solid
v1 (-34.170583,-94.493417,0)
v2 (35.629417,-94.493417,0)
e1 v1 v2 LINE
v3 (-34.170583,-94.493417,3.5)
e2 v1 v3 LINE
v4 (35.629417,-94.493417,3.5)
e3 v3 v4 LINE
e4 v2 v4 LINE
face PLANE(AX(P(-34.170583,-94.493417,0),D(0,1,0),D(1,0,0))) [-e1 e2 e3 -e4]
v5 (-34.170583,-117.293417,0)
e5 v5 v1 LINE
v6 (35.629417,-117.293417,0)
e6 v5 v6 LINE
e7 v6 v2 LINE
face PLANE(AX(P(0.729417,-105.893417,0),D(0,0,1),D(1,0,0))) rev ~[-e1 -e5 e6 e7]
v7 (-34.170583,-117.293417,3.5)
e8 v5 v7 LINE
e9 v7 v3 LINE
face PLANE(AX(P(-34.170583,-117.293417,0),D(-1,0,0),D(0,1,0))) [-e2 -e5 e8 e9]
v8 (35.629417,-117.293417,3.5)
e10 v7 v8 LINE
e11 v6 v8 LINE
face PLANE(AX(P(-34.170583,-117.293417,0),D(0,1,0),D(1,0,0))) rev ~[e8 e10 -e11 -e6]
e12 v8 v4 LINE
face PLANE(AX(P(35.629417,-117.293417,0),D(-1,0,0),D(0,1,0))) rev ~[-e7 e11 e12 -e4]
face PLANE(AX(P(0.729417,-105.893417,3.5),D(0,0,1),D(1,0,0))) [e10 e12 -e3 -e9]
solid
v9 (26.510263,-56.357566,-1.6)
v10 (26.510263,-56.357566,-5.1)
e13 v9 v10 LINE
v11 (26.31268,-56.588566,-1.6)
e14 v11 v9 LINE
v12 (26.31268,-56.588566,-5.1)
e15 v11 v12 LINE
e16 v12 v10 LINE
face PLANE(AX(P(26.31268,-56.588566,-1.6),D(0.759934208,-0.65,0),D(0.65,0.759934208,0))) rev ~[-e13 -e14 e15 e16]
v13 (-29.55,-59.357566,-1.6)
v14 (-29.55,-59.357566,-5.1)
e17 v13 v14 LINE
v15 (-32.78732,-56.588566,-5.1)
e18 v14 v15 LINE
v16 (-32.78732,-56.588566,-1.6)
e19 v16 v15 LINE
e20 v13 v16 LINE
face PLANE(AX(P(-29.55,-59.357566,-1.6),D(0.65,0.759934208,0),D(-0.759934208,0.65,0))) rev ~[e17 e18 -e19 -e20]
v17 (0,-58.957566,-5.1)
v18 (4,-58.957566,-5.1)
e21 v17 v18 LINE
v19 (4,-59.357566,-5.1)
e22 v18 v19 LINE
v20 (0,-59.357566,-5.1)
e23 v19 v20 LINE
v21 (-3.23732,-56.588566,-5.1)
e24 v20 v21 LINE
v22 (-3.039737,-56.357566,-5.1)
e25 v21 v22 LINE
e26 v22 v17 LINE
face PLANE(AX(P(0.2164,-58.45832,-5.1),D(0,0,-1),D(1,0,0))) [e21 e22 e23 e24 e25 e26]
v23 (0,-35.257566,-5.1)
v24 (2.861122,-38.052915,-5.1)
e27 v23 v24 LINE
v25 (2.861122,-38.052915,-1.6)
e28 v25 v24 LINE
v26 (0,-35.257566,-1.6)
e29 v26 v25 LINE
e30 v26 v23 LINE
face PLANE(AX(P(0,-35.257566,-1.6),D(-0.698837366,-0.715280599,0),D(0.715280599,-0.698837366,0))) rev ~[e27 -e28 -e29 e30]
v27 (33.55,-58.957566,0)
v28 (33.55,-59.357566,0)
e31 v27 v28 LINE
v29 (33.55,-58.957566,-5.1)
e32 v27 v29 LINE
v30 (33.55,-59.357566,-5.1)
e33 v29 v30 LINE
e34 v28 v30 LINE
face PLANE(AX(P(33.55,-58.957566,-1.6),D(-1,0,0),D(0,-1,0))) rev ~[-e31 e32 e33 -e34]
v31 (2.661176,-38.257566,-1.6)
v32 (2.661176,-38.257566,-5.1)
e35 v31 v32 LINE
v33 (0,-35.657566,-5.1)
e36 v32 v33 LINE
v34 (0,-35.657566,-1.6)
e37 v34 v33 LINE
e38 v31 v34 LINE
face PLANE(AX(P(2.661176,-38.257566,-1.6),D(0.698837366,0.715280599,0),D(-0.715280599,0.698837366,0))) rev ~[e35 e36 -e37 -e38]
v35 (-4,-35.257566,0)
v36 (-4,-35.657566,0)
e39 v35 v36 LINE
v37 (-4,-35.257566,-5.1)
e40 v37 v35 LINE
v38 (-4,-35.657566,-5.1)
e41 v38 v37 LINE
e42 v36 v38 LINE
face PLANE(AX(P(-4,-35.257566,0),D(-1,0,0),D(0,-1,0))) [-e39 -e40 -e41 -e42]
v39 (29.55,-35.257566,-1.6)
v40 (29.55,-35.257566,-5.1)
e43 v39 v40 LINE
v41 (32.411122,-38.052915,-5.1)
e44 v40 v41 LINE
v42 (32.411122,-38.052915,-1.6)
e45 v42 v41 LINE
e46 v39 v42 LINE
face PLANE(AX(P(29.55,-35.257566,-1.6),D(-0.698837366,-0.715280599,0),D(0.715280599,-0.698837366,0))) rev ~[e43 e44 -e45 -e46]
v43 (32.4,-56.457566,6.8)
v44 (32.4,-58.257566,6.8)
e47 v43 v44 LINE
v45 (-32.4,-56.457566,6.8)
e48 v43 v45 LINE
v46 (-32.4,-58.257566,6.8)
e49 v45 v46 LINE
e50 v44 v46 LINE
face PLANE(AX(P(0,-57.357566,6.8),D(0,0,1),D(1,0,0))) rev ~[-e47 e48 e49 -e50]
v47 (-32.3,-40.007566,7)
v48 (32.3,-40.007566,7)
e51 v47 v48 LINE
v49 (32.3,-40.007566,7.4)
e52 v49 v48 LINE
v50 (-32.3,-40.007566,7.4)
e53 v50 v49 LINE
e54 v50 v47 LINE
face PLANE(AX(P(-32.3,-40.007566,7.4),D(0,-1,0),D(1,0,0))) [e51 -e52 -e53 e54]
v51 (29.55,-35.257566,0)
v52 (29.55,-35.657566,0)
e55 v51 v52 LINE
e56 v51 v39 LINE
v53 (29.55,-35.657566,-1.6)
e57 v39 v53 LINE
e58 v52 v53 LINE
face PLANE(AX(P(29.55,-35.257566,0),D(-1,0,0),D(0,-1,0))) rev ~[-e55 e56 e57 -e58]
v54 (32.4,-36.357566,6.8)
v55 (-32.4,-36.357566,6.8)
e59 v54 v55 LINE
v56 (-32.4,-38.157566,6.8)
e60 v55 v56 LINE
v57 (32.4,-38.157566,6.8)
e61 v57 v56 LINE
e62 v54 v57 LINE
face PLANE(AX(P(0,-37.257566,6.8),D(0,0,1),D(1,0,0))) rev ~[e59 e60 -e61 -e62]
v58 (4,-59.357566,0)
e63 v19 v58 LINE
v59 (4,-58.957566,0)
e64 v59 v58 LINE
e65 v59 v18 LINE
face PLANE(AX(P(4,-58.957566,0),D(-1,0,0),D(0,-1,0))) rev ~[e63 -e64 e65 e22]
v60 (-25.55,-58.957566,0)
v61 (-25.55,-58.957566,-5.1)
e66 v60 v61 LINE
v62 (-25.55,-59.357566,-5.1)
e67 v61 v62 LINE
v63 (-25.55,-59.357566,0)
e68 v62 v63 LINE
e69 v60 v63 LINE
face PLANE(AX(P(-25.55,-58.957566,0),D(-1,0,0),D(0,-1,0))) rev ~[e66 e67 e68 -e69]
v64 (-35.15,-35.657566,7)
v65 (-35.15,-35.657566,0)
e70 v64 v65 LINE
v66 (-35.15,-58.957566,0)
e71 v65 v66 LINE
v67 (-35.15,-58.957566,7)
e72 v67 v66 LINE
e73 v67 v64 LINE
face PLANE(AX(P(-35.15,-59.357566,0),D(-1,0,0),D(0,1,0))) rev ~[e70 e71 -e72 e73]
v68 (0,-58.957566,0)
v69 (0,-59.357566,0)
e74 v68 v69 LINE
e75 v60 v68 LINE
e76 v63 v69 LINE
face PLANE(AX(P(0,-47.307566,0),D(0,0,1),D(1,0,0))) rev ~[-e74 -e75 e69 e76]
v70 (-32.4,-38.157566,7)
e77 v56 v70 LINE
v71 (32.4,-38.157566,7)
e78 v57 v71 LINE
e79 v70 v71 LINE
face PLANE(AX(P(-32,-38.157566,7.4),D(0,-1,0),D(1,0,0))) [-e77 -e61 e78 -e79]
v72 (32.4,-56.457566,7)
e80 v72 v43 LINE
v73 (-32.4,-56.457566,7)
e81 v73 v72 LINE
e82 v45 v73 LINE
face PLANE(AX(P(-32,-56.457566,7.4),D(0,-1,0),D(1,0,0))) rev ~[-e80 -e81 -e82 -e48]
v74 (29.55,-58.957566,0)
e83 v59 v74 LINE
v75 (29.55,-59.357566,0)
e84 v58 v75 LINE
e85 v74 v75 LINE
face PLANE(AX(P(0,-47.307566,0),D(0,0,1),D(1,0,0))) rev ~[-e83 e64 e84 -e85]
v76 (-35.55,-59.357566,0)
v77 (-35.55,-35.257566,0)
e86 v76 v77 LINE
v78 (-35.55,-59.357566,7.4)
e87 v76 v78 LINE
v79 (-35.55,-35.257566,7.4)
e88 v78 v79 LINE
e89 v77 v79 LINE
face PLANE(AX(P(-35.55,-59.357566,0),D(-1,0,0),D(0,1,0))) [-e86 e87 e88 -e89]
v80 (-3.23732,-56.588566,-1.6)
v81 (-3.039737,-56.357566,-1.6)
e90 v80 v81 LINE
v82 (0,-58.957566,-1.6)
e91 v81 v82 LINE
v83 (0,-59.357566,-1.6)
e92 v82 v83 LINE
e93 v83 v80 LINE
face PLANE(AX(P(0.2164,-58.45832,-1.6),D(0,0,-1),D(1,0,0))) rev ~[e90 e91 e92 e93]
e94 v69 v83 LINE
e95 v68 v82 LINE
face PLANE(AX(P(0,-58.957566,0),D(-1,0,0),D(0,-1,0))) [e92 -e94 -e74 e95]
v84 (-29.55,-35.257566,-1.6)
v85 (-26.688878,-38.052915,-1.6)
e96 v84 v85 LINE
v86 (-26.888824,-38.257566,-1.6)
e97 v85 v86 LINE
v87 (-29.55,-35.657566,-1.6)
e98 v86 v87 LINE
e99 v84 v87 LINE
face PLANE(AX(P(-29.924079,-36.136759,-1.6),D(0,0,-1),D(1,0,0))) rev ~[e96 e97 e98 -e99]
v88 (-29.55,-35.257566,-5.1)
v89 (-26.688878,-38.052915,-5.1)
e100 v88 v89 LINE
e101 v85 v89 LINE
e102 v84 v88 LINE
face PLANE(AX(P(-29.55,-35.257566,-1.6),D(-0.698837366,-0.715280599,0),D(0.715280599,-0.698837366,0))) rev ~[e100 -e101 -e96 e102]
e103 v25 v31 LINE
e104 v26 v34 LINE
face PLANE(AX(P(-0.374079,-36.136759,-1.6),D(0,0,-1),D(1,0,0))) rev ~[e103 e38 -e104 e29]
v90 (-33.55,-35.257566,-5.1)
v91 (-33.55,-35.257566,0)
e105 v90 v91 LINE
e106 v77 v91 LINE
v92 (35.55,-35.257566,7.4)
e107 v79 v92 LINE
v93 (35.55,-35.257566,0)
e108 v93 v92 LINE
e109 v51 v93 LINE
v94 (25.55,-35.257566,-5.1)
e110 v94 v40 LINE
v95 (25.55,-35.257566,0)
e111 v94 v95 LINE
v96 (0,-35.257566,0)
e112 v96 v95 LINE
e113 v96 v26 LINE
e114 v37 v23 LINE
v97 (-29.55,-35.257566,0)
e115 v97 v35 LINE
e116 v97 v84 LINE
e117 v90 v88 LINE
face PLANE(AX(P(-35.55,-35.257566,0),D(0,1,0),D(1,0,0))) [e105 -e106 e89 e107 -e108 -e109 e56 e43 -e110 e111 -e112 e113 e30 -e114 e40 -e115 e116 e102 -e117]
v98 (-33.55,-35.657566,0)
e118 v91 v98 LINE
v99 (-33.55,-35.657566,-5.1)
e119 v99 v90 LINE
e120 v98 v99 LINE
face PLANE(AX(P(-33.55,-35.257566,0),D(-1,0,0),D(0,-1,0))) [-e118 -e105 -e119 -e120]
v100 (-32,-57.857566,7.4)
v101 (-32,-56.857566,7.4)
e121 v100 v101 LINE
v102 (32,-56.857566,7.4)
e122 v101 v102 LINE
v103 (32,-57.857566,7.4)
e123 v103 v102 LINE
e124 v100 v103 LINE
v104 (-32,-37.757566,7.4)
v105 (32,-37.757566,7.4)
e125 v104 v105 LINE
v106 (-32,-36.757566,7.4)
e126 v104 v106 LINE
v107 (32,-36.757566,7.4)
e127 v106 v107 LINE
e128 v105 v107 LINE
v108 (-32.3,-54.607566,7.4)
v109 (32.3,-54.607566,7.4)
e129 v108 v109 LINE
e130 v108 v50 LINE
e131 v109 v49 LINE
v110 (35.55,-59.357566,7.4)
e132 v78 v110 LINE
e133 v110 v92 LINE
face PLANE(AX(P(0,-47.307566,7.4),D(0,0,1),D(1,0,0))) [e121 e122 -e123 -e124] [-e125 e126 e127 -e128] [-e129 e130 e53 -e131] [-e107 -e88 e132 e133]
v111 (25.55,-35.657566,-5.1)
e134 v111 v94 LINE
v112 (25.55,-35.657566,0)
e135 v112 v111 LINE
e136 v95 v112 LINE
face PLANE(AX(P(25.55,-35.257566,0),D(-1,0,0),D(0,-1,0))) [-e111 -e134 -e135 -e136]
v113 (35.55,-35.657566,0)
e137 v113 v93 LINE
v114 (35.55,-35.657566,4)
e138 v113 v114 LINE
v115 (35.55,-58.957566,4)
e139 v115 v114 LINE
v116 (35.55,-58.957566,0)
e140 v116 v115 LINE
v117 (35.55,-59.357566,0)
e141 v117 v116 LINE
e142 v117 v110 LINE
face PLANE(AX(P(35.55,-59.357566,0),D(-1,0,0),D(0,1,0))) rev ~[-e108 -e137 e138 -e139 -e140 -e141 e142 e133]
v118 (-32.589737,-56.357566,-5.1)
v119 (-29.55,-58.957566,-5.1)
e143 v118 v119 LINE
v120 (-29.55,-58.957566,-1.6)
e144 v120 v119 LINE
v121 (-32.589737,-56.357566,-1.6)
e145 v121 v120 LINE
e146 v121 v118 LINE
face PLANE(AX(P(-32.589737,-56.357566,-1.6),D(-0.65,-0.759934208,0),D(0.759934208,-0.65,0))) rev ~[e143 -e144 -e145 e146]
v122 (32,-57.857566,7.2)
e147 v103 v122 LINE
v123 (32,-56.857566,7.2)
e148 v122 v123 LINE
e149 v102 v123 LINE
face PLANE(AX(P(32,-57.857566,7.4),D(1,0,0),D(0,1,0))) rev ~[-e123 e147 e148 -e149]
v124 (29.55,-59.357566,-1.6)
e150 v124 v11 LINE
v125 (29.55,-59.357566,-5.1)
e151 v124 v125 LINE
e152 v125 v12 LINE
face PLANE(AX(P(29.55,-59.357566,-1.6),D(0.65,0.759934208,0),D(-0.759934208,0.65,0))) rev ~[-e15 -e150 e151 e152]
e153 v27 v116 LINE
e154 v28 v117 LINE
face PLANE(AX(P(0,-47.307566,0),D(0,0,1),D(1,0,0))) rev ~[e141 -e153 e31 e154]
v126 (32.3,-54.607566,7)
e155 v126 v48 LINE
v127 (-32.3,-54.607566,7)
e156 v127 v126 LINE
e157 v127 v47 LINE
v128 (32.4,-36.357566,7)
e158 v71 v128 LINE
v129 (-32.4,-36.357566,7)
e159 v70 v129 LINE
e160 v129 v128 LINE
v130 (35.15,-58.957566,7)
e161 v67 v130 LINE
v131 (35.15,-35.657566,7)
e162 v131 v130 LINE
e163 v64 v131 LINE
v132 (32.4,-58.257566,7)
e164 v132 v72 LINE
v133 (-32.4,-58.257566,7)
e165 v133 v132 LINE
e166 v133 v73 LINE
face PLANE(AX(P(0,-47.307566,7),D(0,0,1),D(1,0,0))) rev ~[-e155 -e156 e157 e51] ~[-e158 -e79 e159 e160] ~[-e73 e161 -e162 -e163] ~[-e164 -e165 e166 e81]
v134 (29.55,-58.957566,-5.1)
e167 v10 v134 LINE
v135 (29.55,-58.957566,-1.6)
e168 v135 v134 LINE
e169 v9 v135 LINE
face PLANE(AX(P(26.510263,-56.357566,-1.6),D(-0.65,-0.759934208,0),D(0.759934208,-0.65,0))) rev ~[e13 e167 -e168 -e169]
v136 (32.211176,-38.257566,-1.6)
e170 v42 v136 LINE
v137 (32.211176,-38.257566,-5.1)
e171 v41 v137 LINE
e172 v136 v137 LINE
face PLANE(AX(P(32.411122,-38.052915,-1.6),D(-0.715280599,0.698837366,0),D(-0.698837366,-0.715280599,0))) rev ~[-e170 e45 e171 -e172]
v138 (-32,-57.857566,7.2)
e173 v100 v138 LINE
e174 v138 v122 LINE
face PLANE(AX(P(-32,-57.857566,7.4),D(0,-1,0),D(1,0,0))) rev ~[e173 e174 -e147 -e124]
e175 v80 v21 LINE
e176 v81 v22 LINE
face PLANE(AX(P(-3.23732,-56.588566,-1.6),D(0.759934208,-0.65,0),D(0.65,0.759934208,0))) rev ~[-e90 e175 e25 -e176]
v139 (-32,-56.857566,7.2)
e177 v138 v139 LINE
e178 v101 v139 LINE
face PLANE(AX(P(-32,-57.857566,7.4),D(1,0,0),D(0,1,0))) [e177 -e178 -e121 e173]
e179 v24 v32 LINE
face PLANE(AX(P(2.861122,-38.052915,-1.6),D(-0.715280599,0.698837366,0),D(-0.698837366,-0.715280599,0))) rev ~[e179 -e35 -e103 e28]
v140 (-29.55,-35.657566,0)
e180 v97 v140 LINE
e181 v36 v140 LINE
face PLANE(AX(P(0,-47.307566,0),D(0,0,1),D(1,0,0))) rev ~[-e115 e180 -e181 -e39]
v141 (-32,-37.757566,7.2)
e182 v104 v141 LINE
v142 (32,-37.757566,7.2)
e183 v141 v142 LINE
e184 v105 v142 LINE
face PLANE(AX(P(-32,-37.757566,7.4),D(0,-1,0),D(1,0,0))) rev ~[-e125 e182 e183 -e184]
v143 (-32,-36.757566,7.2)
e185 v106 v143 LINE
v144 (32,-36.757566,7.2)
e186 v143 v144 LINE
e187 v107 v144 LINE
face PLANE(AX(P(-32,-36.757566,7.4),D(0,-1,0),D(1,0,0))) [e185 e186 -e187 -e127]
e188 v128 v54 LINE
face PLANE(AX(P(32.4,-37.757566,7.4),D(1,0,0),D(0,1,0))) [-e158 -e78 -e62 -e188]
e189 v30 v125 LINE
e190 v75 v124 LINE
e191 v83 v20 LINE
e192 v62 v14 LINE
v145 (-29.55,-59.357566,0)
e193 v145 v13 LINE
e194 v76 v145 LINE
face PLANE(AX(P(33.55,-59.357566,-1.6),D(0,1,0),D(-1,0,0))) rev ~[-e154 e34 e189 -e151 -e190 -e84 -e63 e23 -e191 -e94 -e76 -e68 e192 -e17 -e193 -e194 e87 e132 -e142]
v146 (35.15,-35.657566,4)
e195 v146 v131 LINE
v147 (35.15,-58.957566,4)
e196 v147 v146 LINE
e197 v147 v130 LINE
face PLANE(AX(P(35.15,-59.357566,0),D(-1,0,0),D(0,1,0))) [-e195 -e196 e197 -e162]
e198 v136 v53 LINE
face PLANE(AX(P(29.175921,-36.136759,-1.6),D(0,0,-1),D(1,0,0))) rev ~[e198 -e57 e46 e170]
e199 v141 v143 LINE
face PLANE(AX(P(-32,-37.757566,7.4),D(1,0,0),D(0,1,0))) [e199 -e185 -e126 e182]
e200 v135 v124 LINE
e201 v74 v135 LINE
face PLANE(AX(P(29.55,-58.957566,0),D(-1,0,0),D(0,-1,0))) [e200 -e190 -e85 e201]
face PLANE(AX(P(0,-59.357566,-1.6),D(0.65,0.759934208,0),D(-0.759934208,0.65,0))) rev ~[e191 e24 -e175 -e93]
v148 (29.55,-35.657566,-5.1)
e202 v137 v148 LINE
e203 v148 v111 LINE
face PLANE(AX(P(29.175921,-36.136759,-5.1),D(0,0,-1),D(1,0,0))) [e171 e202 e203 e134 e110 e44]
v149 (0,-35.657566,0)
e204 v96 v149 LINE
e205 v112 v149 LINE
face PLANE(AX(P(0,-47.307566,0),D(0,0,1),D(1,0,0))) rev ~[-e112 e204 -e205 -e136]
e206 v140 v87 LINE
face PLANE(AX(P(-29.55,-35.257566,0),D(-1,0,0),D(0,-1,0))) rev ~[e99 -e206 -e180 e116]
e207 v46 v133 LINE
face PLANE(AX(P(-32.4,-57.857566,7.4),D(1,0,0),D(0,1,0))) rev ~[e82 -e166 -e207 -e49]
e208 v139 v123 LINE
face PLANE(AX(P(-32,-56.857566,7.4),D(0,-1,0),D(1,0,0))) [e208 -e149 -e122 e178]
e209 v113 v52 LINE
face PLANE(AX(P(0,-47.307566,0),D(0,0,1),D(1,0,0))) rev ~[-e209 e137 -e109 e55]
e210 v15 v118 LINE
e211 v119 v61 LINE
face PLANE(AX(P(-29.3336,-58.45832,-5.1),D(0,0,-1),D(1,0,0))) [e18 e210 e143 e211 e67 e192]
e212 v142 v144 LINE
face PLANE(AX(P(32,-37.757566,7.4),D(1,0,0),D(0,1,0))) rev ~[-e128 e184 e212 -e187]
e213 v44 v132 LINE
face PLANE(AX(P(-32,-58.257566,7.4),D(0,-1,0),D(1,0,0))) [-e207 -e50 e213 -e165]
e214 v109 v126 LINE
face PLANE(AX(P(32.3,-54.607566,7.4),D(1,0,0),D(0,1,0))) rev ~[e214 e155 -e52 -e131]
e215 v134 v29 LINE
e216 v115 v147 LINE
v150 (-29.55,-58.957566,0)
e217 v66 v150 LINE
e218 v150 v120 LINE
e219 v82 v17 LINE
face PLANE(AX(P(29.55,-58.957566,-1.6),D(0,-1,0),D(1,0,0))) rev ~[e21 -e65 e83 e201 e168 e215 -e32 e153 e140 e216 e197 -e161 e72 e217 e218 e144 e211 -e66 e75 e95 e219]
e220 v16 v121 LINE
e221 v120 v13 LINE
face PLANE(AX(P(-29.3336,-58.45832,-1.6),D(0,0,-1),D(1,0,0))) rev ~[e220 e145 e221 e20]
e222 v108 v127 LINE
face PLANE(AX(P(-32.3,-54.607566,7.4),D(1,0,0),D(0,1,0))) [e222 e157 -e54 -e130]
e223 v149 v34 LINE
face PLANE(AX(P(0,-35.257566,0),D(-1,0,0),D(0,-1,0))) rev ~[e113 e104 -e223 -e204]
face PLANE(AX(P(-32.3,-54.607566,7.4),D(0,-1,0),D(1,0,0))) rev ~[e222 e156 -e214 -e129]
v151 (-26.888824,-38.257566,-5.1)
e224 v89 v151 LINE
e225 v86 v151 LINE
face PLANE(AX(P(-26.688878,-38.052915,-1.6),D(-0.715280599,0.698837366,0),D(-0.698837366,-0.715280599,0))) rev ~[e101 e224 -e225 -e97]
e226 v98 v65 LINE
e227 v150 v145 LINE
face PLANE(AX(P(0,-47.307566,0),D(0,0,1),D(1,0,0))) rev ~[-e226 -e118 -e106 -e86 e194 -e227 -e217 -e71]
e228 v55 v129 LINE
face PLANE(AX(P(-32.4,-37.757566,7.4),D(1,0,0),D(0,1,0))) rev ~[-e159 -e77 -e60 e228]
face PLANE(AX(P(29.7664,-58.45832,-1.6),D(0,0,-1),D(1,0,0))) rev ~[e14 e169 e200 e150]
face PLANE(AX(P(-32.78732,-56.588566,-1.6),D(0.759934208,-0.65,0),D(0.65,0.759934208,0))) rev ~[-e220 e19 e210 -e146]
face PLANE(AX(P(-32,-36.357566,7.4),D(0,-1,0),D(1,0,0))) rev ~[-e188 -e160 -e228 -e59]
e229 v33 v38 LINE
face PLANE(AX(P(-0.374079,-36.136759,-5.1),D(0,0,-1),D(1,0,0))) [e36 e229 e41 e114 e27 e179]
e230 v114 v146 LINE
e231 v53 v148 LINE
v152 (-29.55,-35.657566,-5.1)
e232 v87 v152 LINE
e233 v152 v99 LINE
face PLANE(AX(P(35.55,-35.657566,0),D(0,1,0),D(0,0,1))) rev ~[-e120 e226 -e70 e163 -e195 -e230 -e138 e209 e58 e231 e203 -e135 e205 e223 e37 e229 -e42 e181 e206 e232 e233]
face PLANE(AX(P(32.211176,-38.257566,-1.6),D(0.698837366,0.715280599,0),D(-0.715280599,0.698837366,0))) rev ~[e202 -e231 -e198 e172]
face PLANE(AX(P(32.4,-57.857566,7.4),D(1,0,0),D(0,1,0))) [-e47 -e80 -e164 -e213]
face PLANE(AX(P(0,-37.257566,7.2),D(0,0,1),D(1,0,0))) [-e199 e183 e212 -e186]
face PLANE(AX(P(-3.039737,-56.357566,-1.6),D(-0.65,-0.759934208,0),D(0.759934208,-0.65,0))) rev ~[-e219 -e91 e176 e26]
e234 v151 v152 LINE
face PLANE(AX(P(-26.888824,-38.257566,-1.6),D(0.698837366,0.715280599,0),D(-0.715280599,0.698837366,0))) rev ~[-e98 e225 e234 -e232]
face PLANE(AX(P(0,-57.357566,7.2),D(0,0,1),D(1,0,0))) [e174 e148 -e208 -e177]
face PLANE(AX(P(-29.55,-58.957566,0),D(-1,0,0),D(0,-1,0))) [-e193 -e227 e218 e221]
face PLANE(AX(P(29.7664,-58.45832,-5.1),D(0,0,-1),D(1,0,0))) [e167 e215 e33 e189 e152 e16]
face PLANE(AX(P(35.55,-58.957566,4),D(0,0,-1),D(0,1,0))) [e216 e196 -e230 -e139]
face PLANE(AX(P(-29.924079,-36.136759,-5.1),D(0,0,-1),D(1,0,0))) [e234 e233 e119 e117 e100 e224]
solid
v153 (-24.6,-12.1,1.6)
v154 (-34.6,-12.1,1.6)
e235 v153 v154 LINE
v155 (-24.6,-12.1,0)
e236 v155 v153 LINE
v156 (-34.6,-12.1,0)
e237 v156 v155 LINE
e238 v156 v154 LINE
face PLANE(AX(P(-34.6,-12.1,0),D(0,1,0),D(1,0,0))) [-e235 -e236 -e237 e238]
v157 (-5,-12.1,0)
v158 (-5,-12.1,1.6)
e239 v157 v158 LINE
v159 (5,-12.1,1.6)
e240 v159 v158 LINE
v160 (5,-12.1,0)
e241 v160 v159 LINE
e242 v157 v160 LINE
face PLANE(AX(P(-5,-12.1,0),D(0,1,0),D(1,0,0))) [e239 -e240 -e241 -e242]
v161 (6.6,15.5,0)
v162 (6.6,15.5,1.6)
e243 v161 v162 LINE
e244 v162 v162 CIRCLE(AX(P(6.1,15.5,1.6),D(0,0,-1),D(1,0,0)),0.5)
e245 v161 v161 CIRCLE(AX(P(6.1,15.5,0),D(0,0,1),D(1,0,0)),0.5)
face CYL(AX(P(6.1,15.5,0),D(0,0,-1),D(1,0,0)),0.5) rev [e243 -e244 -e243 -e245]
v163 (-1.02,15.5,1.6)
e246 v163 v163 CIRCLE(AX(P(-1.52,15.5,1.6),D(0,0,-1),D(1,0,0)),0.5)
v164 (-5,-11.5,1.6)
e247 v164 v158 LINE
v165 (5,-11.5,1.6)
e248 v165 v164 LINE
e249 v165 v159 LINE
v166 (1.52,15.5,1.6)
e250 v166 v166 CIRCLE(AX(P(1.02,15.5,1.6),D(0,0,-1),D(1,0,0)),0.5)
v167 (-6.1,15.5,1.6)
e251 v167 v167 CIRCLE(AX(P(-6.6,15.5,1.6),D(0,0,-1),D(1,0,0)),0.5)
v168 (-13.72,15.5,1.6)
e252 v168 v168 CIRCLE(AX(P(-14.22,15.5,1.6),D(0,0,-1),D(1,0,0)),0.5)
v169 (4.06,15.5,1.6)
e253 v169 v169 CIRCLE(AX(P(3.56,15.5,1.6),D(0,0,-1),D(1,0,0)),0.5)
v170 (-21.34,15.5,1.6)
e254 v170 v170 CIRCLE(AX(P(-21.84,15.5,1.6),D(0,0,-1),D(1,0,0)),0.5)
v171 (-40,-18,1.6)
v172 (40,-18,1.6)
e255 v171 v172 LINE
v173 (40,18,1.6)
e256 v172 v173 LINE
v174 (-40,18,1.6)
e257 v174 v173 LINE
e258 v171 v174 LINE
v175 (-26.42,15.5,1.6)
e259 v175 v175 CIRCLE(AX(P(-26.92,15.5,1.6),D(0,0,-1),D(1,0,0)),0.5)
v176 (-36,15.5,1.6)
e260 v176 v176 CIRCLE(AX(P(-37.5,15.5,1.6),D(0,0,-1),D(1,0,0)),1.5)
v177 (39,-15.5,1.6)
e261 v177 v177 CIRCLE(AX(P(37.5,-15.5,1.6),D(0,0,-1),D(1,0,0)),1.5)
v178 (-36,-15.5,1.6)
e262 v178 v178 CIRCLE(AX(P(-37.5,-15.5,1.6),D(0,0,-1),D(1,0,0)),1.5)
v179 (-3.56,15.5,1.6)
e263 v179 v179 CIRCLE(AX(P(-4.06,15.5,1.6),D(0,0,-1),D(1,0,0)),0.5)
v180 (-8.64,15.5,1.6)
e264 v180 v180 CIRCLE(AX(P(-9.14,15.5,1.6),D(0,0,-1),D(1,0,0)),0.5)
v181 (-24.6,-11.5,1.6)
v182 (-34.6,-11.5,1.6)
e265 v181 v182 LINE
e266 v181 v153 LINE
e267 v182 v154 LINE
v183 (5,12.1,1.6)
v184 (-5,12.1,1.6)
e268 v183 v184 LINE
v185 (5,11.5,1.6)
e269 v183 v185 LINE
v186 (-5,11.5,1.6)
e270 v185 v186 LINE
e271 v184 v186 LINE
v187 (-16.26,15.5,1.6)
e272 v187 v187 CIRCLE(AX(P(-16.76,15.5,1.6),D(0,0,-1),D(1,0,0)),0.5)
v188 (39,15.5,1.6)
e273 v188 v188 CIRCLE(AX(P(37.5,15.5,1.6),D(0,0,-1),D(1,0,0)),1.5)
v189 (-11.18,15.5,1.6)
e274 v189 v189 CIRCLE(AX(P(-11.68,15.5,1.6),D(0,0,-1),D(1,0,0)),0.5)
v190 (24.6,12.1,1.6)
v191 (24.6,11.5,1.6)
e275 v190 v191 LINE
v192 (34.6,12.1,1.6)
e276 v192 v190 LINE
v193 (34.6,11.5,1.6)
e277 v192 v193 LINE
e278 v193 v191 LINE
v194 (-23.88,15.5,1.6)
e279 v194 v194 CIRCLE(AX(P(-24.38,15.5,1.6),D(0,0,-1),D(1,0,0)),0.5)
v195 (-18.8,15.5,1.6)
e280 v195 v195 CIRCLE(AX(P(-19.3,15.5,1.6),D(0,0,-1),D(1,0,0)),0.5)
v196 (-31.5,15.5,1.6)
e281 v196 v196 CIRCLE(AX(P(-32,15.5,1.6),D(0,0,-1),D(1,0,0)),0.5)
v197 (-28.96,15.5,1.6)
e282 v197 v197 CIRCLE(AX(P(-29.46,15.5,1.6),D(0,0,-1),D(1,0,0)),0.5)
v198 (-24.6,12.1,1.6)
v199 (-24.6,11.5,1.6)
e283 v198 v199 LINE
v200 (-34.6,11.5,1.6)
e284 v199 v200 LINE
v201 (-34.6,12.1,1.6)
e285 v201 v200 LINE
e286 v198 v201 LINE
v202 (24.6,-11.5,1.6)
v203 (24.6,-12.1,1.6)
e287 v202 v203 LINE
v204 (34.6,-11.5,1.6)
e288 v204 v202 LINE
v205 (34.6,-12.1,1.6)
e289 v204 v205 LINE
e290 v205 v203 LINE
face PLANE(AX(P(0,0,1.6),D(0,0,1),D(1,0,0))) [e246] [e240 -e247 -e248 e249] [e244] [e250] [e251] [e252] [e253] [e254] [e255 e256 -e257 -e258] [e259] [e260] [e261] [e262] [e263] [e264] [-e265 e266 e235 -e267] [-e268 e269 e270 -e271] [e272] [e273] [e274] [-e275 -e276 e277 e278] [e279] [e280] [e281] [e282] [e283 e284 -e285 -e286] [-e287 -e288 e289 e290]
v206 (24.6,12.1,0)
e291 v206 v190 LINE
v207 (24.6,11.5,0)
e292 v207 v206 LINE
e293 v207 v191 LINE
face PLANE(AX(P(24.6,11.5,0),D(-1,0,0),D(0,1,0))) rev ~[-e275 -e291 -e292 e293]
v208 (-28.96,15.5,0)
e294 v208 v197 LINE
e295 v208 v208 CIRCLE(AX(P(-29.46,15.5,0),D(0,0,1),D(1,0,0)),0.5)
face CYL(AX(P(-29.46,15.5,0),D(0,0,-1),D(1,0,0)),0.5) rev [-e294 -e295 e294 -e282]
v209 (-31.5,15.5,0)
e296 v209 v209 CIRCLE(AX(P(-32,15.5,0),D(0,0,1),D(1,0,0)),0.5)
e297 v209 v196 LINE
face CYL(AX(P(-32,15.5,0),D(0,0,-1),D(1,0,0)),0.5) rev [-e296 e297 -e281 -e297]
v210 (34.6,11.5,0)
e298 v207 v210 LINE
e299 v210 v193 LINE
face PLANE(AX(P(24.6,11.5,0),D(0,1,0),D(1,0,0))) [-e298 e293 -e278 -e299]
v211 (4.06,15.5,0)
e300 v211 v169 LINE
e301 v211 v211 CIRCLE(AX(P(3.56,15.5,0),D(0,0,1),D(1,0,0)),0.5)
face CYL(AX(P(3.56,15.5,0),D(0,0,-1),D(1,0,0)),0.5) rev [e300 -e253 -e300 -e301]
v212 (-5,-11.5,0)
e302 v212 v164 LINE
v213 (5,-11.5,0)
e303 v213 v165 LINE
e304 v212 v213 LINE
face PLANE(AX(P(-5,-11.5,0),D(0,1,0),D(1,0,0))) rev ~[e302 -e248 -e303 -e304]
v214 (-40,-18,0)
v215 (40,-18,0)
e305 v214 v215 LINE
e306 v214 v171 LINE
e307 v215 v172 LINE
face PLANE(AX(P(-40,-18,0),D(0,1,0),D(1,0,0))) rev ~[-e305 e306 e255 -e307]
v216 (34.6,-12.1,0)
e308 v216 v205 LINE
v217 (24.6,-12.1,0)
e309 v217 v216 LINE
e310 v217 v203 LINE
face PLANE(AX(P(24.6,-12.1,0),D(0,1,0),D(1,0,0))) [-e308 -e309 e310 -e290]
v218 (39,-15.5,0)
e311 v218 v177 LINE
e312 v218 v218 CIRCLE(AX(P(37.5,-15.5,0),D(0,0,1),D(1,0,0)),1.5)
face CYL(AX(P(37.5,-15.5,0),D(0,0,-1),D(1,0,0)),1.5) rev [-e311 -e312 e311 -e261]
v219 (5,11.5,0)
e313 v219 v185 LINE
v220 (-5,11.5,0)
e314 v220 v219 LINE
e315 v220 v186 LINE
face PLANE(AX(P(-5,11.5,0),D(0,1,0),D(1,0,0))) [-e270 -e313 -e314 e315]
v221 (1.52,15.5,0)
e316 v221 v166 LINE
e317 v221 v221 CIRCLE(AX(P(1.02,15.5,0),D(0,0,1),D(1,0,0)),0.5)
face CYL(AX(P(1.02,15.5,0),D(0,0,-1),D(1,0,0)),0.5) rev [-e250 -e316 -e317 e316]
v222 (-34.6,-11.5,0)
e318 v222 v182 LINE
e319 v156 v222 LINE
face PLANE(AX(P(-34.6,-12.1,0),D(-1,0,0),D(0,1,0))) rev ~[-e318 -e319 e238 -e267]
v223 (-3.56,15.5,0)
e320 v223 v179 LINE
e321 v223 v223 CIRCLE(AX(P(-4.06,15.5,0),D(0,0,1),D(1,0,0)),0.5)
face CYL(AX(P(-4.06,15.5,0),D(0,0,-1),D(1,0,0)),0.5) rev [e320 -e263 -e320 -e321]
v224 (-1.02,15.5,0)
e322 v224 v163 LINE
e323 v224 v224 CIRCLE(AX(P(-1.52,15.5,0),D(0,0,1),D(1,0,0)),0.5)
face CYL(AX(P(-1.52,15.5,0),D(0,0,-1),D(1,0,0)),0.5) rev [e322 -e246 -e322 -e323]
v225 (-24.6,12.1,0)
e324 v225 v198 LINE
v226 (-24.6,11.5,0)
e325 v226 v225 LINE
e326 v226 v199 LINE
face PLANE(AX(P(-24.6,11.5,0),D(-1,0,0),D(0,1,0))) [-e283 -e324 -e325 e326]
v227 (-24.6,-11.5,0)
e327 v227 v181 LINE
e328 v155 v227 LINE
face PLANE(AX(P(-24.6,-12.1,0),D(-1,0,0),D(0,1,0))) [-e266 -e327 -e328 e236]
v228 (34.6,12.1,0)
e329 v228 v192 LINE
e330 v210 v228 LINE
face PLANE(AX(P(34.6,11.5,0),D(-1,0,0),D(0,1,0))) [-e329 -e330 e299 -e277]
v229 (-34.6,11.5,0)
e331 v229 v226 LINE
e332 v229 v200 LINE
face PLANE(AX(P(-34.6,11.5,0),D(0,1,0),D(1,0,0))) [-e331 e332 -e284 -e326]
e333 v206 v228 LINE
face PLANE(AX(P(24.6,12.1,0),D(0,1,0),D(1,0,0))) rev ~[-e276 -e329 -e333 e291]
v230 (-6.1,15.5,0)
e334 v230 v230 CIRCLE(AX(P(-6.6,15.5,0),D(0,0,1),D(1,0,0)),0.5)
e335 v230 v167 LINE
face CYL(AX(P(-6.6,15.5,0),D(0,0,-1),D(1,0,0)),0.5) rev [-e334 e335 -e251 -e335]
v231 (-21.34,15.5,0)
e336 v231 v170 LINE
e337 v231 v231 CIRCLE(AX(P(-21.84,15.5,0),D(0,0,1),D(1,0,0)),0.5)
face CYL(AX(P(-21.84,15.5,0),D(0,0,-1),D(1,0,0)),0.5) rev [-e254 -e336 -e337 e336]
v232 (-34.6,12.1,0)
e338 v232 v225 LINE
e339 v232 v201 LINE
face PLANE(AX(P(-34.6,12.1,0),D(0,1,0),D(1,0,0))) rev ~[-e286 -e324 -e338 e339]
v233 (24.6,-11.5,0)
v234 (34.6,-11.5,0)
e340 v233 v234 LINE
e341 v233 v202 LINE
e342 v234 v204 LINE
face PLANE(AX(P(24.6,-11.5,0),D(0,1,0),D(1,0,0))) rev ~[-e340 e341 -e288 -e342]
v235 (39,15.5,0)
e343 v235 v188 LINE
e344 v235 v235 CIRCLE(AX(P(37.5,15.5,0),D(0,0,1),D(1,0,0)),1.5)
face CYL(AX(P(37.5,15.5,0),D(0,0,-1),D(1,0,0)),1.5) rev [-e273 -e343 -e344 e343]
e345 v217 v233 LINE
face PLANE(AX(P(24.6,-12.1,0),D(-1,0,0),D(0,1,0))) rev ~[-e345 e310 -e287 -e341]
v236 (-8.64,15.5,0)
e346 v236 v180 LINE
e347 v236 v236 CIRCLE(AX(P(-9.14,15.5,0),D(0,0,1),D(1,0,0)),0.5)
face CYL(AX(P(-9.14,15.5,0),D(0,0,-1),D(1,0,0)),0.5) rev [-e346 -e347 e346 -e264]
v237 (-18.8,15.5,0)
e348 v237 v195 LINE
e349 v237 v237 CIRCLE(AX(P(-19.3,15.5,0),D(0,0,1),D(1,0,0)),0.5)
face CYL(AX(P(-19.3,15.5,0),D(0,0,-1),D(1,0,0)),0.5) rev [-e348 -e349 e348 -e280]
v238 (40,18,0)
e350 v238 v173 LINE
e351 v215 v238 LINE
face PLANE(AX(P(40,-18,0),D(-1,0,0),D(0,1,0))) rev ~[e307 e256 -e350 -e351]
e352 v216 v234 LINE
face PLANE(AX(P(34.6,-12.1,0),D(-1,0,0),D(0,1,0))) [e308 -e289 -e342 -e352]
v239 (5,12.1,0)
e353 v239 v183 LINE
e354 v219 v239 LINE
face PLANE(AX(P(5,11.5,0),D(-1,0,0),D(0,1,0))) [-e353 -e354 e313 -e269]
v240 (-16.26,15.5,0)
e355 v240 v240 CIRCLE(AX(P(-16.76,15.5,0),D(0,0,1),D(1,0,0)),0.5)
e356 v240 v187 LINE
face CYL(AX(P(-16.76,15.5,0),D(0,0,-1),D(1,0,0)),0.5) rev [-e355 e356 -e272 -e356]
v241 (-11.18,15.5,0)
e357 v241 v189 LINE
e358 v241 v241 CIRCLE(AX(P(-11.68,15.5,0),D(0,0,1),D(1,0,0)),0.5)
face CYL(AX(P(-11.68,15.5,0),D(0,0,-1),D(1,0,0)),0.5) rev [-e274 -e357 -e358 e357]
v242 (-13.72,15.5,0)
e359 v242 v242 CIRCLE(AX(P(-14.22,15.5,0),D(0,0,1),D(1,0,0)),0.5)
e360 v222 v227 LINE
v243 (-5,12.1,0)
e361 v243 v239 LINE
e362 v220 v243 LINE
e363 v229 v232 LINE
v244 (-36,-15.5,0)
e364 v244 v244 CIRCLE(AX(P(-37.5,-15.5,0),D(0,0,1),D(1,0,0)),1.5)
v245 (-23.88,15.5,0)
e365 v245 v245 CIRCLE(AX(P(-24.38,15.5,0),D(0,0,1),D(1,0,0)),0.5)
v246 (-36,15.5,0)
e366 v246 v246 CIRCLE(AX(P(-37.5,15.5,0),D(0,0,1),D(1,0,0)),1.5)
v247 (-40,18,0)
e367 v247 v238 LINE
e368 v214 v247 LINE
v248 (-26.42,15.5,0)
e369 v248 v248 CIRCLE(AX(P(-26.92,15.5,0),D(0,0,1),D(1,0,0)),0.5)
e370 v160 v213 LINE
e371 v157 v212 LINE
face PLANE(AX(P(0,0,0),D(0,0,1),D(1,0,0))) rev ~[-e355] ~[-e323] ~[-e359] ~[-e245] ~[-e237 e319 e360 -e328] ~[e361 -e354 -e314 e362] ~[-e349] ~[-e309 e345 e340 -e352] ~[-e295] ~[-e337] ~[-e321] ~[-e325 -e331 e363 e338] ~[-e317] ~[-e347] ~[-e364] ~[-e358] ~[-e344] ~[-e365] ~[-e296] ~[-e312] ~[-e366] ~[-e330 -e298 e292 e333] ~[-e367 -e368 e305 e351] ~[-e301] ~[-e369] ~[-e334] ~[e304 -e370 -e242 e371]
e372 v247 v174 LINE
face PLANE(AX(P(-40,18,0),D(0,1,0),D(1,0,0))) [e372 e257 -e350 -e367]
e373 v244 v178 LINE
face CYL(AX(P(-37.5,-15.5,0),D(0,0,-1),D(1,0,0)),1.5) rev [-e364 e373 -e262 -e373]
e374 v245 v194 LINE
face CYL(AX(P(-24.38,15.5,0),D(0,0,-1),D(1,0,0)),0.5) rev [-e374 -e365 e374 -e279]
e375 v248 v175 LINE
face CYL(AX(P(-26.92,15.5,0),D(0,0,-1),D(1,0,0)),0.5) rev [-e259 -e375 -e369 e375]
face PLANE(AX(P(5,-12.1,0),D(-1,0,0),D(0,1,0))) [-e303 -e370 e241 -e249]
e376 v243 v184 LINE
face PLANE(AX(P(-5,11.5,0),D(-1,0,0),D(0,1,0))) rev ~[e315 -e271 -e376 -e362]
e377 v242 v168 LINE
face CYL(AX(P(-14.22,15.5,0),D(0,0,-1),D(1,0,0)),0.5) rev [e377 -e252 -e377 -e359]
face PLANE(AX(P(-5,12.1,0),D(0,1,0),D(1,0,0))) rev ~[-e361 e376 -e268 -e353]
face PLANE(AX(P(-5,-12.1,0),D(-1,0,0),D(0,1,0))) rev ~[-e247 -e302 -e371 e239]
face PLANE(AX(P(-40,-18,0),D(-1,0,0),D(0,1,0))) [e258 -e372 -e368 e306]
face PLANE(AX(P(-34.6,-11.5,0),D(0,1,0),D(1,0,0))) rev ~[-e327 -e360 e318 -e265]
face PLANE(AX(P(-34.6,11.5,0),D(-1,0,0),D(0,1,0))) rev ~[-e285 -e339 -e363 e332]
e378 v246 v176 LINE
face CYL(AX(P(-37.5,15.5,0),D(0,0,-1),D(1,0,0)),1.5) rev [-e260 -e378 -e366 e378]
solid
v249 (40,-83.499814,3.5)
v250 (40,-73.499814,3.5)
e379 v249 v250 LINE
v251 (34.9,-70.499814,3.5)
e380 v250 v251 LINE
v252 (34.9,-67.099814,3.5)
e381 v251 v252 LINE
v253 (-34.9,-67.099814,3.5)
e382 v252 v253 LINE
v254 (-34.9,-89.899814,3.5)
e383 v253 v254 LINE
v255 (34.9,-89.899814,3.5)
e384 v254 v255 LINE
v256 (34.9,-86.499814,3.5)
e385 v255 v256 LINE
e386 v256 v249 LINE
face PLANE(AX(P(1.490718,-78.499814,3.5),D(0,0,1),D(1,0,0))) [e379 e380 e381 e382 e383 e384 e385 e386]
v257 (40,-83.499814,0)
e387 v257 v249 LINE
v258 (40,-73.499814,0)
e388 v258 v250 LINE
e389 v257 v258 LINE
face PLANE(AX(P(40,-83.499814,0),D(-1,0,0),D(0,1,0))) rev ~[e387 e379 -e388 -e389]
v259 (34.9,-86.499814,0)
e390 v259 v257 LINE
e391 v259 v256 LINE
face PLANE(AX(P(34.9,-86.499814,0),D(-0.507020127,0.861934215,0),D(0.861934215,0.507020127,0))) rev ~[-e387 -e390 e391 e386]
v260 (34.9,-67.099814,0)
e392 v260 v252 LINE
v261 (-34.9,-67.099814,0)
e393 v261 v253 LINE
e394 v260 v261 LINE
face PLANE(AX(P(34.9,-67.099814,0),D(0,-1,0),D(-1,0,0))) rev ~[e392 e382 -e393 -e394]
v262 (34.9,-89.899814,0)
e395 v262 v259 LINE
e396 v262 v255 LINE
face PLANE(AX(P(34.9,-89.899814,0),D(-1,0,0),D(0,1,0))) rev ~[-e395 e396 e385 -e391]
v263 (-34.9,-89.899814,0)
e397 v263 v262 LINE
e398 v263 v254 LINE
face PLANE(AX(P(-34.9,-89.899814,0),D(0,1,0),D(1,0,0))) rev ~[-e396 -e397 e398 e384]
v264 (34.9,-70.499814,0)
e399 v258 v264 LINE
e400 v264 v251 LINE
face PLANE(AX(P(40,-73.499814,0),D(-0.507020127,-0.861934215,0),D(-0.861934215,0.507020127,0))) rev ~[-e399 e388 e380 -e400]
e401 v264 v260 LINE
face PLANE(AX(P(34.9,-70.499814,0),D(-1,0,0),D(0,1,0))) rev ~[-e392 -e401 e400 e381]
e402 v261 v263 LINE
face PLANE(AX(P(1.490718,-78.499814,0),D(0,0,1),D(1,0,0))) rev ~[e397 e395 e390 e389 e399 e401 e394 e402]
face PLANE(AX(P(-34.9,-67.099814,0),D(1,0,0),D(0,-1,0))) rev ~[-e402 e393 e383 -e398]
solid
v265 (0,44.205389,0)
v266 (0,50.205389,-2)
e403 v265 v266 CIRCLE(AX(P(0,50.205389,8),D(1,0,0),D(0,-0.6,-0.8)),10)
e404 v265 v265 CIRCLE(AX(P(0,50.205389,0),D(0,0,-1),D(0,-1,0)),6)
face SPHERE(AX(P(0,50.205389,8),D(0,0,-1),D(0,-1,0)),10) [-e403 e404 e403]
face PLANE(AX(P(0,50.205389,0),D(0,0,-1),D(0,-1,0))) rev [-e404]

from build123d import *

# Parameters (mm, degrees)
F0_W      = 80
F0_H      = 36
F1_DEPTH  = 1.6
F2_R      = 1.5
F3_DEPTH  = 1.601
F4_R      = 0.5
F5_DEPTH  = 1.601
F6_W      = 10
F6_H      = 0.6
F7_DEPTH  = 1.601
F8_W      = 71.1
F8_H      = 24.1
F9_DEPTH  = 7.4
F10_W     = 64
F10_H     = 1
F11_DEPTH = 0.2
F12_T     = -0.4
F13_W     = 64.6
F13_H     = 14.6
F14_DEPTH = 7.401
F15_W     = 23.3
F15_H     = 4
F16_DEPTH = 0.4
F17_W     = 4
F17_H     = 0.4
F18_DEPTH = 1.6
F20_DEPTH = 3.5
F22_DEPTH = 3.5
F23_W     = 69.8
F23_H     = 22.8
F24_DEPTH = 3.5


with BuildPart() as f1:
    # F0 (on Top) → F1 (new body)
    with BuildSketch(Plane.XY):
        Rectangle(F0_W, F0_H)
    extrude(amount=F1_DEPTH)

    # F2 (on Top) → F3 (cut, through all)
    with BuildSketch(Plane.XY):
        with Locations((-37.5, 15.5)):
            Circle(F2_R)
        with Locations((-37.5, -15.5)):
            Circle(F2_R)
        with Locations((37.5, -15.5)):
            Circle(F2_R)
        with Locations((37.5, 15.5)):
            Circle(F2_R)
    extrude(amount=F3_DEPTH, mode=Mode.SUBTRACT)

    # F4 (on Top) → F5 (cut, through all)
    with BuildSketch(Plane.XY):
        with Locations((-32, 15.5)):
            Circle(F4_R)
        with Locations((-29.46, 15.5)):
            Circle(F4_R)
        with Locations((-26.92, 15.5)):
            Circle(F4_R)
        with Locations((-24.38, 15.5)):
            Circle(F4_R)
        with Locations((-21.84, 15.5)):
            Circle(F4_R)
        with Locations((-19.3, 15.5)):
            Circle(F4_R)
        with Locations((-16.76, 15.5)):
            Circle(F4_R)
        with Locations((-14.22, 15.5)):
            Circle(F4_R)
        with Locations((-11.68, 15.5)):
            Circle(F4_R)
        with Locations((-9.14, 15.5)):
            Circle(F4_R)
        with Locations((-6.6, 15.5)):
            Circle(F4_R)
        with Locations((-4.06, 15.5)):
            Circle(F4_R)
        with Locations((-1.52, 15.5)):
            Circle(F4_R)
        with Locations((1.02, 15.5)):
            Circle(F4_R)
        with Locations((3.56, 15.5)):
            Circle(F4_R)
        with Locations((6.1, 15.5)):
            Circle(F4_R)
    extrude(amount=F5_DEPTH, mode=Mode.SUBTRACT)

    # F6 (on Top) → F7 (cut, through all)
    with BuildSketch(Plane.XY):
        with Locations((-29.6, 11.8)):
            Rectangle(F6_W, F6_H)
        with Locations((0, 11.8)):
            Rectangle(F6_W, F6_H)
        with Locations((29.6, 11.8)):
            Rectangle(F6_W, F6_H)
        with Locations((-29.6, -11.8)):
            Rectangle(F6_W, F6_H)
        with Locations((0, -11.8)):
            Rectangle(F6_W, F6_H)
        with Locations((29.6, -11.8)):
            Rectangle(F6_W, F6_H)
    extrude(amount=F7_DEPTH, mode=Mode.SUBTRACT)


with BuildPart() as f9:
    # F8 (on Top) → F9 (new body)
    with BuildSketch(Plane.XY):
        with Locations((0, -47.307565732)):
            Rectangle(F8_W, F8_H)
    extrude(amount=F9_DEPTH)

    # F10 (on face) → F11 (cut)
    with BuildSketch(Plane.XY.offset(7.4)):
        with Locations((0, -37.257565732)):
            Rectangle(F10_W, F10_H)
        with Locations((0, -57.357565732)):
            Rectangle(F10_W, F10_H)
    extrude(amount=-F11_DEPTH, mode=Mode.SUBTRACT)

    # F12
    f12_openings = [f9.faces().sort_by_distance(p)[0] for p in [
        (0, -47.307566, 0),
    ]]
    offset(amount=F12_T, openings=f12_openings, kind=Kind.INTERSECTION)

    # F13 (on face) → F14 (cut, through all)
    with BuildSketch(Plane.XY.offset(7.4)):
        with Locations((0, -47.307565732)):
            Rectangle(F13_W, F13_H)
    extrude(amount=-F14_DEPTH, mode=Mode.SUBTRACT)

    # F15 (on face) → F16 (cut, through all)
    with BuildSketch(Plane.YZ.offset(35.55)):
        with Locations((-47.307565732, 2)):
            Rectangle(F15_W, F15_H)
    extrude(amount=-F16_DEPTH, mode=Mode.SUBTRACT)

    # F17 (on face) → F18 (join)
    with BuildSketch(Plane(origin=(0, 0, 0), x_dir=(1, 0, 0), z_dir=(0, 0, -1))):
        with Locations((31.55, 59.157565732)):
            Rectangle(F17_W, F17_H)
        with Locations((-2, 35.457565732)):
            Rectangle(F17_W, F17_H)
        with Locations((-31.55, 35.457565732)):
            Rectangle(F17_W, F17_H)
        with Locations((-27.55, 59.157565732)):
            Rectangle(F17_W, F17_H)
        with Locations((27.55, 35.457565732)):
            Rectangle(F17_W, F17_H)
        with Locations((2, 59.157565732)):
            Rectangle(F17_W, F17_H)
    extrude(amount=F18_DEPTH)

    # F19 (on face) → F20 (join)
    with BuildSketch(Plane(origin=(0, 0, -1.6), x_dir=(1, 0, 0), z_dir=(0, 0, -1))):
        Polygon((26.5102631693, 56.357565732), (29.55, 58.957565732), (33.55, 58.957565732), (33.55, 59.357565732), (29.55, 59.357565732), (26.3126802753, 56.588565732), align=None)
        Polygon((-3.0397368307, 56.357565732), (0, 58.957565732), (4, 58.957565732), (4, 59.357565732), (0, 59.357565732), (-3.2373197247, 56.588565732), align=None)
        Polygon((-29.55, 58.957565732), (-25.55, 58.957565732), (-25.55, 59.357565732), (-29.55, 59.357565732), (-32.7873197247, 56.588565732), (-32.5897368307, 56.357565732), align=None)
        Polygon((-33.55, 35.657565732), (-33.55, 35.257565732), (-29.55, 35.257565732), (-26.6888776043, 38.0529151979), (-26.8888235283, 38.257565732), (-29.55, 35.657565732), align=None)
        Polygon((-4, 35.657565732), (-4, 35.257565732), (0, 35.257565732), (2.8611223957, 38.0529151979), (2.6611764717, 38.257565732), (0, 35.657565732), align=None)
        Polygon((25.55, 35.657565732), (25.55, 35.257565732), (29.55, 35.257565732), (32.4111223957, 38.0529151979), (32.2111764717, 38.257565732), (29.55, 35.657565732), align=None)
    extrude(amount=F20_DEPTH)


with BuildPart() as f22:
    # F21 (on Top) → F22 (new body)
    with BuildSketch(Plane.XY):
        Polygon((34.9, -67.0998139858), (-34.9, -67.0998139858), (-34.9, -89.8998139858), (34.9, -89.8998139858), (34.9, -86.4998139858), (40, -83.4998139858), (40, -73.4998139858), (34.9, -70.4998139858), align=None)
    extrude(amount=F22_DEPTH)


with BuildPart() as f24:
    # F23 (on Top) → F24 (new body)
    with BuildSketch(Plane.XY):
        with Locations((0.7294171095, -105.8934174538)):
            Rectangle(F23_W, F23_H)
    extrude(amount=F24_DEPTH)


with BuildPart() as f26:
    # F25 (on Right) → F26 (revolve)
    with BuildSketch(Plane.YZ):
        with BuildLine():
            Line((50.2053892224, 0), (44.2053892224, 0))
            ThreePointArc((44.2053892224, 0), (47.0431115622, -1.4868329805), (50.2053892224, -2))
            Line((50.2053892224, -2), (50.2053892224, 0))
        make_face()
    revolve(axis=Axis((0, 50.2053892224, -1), (0, 0, -1)))


solid = Compound([f1.part, f9.part, f22.part, f24.part, f26.part])
